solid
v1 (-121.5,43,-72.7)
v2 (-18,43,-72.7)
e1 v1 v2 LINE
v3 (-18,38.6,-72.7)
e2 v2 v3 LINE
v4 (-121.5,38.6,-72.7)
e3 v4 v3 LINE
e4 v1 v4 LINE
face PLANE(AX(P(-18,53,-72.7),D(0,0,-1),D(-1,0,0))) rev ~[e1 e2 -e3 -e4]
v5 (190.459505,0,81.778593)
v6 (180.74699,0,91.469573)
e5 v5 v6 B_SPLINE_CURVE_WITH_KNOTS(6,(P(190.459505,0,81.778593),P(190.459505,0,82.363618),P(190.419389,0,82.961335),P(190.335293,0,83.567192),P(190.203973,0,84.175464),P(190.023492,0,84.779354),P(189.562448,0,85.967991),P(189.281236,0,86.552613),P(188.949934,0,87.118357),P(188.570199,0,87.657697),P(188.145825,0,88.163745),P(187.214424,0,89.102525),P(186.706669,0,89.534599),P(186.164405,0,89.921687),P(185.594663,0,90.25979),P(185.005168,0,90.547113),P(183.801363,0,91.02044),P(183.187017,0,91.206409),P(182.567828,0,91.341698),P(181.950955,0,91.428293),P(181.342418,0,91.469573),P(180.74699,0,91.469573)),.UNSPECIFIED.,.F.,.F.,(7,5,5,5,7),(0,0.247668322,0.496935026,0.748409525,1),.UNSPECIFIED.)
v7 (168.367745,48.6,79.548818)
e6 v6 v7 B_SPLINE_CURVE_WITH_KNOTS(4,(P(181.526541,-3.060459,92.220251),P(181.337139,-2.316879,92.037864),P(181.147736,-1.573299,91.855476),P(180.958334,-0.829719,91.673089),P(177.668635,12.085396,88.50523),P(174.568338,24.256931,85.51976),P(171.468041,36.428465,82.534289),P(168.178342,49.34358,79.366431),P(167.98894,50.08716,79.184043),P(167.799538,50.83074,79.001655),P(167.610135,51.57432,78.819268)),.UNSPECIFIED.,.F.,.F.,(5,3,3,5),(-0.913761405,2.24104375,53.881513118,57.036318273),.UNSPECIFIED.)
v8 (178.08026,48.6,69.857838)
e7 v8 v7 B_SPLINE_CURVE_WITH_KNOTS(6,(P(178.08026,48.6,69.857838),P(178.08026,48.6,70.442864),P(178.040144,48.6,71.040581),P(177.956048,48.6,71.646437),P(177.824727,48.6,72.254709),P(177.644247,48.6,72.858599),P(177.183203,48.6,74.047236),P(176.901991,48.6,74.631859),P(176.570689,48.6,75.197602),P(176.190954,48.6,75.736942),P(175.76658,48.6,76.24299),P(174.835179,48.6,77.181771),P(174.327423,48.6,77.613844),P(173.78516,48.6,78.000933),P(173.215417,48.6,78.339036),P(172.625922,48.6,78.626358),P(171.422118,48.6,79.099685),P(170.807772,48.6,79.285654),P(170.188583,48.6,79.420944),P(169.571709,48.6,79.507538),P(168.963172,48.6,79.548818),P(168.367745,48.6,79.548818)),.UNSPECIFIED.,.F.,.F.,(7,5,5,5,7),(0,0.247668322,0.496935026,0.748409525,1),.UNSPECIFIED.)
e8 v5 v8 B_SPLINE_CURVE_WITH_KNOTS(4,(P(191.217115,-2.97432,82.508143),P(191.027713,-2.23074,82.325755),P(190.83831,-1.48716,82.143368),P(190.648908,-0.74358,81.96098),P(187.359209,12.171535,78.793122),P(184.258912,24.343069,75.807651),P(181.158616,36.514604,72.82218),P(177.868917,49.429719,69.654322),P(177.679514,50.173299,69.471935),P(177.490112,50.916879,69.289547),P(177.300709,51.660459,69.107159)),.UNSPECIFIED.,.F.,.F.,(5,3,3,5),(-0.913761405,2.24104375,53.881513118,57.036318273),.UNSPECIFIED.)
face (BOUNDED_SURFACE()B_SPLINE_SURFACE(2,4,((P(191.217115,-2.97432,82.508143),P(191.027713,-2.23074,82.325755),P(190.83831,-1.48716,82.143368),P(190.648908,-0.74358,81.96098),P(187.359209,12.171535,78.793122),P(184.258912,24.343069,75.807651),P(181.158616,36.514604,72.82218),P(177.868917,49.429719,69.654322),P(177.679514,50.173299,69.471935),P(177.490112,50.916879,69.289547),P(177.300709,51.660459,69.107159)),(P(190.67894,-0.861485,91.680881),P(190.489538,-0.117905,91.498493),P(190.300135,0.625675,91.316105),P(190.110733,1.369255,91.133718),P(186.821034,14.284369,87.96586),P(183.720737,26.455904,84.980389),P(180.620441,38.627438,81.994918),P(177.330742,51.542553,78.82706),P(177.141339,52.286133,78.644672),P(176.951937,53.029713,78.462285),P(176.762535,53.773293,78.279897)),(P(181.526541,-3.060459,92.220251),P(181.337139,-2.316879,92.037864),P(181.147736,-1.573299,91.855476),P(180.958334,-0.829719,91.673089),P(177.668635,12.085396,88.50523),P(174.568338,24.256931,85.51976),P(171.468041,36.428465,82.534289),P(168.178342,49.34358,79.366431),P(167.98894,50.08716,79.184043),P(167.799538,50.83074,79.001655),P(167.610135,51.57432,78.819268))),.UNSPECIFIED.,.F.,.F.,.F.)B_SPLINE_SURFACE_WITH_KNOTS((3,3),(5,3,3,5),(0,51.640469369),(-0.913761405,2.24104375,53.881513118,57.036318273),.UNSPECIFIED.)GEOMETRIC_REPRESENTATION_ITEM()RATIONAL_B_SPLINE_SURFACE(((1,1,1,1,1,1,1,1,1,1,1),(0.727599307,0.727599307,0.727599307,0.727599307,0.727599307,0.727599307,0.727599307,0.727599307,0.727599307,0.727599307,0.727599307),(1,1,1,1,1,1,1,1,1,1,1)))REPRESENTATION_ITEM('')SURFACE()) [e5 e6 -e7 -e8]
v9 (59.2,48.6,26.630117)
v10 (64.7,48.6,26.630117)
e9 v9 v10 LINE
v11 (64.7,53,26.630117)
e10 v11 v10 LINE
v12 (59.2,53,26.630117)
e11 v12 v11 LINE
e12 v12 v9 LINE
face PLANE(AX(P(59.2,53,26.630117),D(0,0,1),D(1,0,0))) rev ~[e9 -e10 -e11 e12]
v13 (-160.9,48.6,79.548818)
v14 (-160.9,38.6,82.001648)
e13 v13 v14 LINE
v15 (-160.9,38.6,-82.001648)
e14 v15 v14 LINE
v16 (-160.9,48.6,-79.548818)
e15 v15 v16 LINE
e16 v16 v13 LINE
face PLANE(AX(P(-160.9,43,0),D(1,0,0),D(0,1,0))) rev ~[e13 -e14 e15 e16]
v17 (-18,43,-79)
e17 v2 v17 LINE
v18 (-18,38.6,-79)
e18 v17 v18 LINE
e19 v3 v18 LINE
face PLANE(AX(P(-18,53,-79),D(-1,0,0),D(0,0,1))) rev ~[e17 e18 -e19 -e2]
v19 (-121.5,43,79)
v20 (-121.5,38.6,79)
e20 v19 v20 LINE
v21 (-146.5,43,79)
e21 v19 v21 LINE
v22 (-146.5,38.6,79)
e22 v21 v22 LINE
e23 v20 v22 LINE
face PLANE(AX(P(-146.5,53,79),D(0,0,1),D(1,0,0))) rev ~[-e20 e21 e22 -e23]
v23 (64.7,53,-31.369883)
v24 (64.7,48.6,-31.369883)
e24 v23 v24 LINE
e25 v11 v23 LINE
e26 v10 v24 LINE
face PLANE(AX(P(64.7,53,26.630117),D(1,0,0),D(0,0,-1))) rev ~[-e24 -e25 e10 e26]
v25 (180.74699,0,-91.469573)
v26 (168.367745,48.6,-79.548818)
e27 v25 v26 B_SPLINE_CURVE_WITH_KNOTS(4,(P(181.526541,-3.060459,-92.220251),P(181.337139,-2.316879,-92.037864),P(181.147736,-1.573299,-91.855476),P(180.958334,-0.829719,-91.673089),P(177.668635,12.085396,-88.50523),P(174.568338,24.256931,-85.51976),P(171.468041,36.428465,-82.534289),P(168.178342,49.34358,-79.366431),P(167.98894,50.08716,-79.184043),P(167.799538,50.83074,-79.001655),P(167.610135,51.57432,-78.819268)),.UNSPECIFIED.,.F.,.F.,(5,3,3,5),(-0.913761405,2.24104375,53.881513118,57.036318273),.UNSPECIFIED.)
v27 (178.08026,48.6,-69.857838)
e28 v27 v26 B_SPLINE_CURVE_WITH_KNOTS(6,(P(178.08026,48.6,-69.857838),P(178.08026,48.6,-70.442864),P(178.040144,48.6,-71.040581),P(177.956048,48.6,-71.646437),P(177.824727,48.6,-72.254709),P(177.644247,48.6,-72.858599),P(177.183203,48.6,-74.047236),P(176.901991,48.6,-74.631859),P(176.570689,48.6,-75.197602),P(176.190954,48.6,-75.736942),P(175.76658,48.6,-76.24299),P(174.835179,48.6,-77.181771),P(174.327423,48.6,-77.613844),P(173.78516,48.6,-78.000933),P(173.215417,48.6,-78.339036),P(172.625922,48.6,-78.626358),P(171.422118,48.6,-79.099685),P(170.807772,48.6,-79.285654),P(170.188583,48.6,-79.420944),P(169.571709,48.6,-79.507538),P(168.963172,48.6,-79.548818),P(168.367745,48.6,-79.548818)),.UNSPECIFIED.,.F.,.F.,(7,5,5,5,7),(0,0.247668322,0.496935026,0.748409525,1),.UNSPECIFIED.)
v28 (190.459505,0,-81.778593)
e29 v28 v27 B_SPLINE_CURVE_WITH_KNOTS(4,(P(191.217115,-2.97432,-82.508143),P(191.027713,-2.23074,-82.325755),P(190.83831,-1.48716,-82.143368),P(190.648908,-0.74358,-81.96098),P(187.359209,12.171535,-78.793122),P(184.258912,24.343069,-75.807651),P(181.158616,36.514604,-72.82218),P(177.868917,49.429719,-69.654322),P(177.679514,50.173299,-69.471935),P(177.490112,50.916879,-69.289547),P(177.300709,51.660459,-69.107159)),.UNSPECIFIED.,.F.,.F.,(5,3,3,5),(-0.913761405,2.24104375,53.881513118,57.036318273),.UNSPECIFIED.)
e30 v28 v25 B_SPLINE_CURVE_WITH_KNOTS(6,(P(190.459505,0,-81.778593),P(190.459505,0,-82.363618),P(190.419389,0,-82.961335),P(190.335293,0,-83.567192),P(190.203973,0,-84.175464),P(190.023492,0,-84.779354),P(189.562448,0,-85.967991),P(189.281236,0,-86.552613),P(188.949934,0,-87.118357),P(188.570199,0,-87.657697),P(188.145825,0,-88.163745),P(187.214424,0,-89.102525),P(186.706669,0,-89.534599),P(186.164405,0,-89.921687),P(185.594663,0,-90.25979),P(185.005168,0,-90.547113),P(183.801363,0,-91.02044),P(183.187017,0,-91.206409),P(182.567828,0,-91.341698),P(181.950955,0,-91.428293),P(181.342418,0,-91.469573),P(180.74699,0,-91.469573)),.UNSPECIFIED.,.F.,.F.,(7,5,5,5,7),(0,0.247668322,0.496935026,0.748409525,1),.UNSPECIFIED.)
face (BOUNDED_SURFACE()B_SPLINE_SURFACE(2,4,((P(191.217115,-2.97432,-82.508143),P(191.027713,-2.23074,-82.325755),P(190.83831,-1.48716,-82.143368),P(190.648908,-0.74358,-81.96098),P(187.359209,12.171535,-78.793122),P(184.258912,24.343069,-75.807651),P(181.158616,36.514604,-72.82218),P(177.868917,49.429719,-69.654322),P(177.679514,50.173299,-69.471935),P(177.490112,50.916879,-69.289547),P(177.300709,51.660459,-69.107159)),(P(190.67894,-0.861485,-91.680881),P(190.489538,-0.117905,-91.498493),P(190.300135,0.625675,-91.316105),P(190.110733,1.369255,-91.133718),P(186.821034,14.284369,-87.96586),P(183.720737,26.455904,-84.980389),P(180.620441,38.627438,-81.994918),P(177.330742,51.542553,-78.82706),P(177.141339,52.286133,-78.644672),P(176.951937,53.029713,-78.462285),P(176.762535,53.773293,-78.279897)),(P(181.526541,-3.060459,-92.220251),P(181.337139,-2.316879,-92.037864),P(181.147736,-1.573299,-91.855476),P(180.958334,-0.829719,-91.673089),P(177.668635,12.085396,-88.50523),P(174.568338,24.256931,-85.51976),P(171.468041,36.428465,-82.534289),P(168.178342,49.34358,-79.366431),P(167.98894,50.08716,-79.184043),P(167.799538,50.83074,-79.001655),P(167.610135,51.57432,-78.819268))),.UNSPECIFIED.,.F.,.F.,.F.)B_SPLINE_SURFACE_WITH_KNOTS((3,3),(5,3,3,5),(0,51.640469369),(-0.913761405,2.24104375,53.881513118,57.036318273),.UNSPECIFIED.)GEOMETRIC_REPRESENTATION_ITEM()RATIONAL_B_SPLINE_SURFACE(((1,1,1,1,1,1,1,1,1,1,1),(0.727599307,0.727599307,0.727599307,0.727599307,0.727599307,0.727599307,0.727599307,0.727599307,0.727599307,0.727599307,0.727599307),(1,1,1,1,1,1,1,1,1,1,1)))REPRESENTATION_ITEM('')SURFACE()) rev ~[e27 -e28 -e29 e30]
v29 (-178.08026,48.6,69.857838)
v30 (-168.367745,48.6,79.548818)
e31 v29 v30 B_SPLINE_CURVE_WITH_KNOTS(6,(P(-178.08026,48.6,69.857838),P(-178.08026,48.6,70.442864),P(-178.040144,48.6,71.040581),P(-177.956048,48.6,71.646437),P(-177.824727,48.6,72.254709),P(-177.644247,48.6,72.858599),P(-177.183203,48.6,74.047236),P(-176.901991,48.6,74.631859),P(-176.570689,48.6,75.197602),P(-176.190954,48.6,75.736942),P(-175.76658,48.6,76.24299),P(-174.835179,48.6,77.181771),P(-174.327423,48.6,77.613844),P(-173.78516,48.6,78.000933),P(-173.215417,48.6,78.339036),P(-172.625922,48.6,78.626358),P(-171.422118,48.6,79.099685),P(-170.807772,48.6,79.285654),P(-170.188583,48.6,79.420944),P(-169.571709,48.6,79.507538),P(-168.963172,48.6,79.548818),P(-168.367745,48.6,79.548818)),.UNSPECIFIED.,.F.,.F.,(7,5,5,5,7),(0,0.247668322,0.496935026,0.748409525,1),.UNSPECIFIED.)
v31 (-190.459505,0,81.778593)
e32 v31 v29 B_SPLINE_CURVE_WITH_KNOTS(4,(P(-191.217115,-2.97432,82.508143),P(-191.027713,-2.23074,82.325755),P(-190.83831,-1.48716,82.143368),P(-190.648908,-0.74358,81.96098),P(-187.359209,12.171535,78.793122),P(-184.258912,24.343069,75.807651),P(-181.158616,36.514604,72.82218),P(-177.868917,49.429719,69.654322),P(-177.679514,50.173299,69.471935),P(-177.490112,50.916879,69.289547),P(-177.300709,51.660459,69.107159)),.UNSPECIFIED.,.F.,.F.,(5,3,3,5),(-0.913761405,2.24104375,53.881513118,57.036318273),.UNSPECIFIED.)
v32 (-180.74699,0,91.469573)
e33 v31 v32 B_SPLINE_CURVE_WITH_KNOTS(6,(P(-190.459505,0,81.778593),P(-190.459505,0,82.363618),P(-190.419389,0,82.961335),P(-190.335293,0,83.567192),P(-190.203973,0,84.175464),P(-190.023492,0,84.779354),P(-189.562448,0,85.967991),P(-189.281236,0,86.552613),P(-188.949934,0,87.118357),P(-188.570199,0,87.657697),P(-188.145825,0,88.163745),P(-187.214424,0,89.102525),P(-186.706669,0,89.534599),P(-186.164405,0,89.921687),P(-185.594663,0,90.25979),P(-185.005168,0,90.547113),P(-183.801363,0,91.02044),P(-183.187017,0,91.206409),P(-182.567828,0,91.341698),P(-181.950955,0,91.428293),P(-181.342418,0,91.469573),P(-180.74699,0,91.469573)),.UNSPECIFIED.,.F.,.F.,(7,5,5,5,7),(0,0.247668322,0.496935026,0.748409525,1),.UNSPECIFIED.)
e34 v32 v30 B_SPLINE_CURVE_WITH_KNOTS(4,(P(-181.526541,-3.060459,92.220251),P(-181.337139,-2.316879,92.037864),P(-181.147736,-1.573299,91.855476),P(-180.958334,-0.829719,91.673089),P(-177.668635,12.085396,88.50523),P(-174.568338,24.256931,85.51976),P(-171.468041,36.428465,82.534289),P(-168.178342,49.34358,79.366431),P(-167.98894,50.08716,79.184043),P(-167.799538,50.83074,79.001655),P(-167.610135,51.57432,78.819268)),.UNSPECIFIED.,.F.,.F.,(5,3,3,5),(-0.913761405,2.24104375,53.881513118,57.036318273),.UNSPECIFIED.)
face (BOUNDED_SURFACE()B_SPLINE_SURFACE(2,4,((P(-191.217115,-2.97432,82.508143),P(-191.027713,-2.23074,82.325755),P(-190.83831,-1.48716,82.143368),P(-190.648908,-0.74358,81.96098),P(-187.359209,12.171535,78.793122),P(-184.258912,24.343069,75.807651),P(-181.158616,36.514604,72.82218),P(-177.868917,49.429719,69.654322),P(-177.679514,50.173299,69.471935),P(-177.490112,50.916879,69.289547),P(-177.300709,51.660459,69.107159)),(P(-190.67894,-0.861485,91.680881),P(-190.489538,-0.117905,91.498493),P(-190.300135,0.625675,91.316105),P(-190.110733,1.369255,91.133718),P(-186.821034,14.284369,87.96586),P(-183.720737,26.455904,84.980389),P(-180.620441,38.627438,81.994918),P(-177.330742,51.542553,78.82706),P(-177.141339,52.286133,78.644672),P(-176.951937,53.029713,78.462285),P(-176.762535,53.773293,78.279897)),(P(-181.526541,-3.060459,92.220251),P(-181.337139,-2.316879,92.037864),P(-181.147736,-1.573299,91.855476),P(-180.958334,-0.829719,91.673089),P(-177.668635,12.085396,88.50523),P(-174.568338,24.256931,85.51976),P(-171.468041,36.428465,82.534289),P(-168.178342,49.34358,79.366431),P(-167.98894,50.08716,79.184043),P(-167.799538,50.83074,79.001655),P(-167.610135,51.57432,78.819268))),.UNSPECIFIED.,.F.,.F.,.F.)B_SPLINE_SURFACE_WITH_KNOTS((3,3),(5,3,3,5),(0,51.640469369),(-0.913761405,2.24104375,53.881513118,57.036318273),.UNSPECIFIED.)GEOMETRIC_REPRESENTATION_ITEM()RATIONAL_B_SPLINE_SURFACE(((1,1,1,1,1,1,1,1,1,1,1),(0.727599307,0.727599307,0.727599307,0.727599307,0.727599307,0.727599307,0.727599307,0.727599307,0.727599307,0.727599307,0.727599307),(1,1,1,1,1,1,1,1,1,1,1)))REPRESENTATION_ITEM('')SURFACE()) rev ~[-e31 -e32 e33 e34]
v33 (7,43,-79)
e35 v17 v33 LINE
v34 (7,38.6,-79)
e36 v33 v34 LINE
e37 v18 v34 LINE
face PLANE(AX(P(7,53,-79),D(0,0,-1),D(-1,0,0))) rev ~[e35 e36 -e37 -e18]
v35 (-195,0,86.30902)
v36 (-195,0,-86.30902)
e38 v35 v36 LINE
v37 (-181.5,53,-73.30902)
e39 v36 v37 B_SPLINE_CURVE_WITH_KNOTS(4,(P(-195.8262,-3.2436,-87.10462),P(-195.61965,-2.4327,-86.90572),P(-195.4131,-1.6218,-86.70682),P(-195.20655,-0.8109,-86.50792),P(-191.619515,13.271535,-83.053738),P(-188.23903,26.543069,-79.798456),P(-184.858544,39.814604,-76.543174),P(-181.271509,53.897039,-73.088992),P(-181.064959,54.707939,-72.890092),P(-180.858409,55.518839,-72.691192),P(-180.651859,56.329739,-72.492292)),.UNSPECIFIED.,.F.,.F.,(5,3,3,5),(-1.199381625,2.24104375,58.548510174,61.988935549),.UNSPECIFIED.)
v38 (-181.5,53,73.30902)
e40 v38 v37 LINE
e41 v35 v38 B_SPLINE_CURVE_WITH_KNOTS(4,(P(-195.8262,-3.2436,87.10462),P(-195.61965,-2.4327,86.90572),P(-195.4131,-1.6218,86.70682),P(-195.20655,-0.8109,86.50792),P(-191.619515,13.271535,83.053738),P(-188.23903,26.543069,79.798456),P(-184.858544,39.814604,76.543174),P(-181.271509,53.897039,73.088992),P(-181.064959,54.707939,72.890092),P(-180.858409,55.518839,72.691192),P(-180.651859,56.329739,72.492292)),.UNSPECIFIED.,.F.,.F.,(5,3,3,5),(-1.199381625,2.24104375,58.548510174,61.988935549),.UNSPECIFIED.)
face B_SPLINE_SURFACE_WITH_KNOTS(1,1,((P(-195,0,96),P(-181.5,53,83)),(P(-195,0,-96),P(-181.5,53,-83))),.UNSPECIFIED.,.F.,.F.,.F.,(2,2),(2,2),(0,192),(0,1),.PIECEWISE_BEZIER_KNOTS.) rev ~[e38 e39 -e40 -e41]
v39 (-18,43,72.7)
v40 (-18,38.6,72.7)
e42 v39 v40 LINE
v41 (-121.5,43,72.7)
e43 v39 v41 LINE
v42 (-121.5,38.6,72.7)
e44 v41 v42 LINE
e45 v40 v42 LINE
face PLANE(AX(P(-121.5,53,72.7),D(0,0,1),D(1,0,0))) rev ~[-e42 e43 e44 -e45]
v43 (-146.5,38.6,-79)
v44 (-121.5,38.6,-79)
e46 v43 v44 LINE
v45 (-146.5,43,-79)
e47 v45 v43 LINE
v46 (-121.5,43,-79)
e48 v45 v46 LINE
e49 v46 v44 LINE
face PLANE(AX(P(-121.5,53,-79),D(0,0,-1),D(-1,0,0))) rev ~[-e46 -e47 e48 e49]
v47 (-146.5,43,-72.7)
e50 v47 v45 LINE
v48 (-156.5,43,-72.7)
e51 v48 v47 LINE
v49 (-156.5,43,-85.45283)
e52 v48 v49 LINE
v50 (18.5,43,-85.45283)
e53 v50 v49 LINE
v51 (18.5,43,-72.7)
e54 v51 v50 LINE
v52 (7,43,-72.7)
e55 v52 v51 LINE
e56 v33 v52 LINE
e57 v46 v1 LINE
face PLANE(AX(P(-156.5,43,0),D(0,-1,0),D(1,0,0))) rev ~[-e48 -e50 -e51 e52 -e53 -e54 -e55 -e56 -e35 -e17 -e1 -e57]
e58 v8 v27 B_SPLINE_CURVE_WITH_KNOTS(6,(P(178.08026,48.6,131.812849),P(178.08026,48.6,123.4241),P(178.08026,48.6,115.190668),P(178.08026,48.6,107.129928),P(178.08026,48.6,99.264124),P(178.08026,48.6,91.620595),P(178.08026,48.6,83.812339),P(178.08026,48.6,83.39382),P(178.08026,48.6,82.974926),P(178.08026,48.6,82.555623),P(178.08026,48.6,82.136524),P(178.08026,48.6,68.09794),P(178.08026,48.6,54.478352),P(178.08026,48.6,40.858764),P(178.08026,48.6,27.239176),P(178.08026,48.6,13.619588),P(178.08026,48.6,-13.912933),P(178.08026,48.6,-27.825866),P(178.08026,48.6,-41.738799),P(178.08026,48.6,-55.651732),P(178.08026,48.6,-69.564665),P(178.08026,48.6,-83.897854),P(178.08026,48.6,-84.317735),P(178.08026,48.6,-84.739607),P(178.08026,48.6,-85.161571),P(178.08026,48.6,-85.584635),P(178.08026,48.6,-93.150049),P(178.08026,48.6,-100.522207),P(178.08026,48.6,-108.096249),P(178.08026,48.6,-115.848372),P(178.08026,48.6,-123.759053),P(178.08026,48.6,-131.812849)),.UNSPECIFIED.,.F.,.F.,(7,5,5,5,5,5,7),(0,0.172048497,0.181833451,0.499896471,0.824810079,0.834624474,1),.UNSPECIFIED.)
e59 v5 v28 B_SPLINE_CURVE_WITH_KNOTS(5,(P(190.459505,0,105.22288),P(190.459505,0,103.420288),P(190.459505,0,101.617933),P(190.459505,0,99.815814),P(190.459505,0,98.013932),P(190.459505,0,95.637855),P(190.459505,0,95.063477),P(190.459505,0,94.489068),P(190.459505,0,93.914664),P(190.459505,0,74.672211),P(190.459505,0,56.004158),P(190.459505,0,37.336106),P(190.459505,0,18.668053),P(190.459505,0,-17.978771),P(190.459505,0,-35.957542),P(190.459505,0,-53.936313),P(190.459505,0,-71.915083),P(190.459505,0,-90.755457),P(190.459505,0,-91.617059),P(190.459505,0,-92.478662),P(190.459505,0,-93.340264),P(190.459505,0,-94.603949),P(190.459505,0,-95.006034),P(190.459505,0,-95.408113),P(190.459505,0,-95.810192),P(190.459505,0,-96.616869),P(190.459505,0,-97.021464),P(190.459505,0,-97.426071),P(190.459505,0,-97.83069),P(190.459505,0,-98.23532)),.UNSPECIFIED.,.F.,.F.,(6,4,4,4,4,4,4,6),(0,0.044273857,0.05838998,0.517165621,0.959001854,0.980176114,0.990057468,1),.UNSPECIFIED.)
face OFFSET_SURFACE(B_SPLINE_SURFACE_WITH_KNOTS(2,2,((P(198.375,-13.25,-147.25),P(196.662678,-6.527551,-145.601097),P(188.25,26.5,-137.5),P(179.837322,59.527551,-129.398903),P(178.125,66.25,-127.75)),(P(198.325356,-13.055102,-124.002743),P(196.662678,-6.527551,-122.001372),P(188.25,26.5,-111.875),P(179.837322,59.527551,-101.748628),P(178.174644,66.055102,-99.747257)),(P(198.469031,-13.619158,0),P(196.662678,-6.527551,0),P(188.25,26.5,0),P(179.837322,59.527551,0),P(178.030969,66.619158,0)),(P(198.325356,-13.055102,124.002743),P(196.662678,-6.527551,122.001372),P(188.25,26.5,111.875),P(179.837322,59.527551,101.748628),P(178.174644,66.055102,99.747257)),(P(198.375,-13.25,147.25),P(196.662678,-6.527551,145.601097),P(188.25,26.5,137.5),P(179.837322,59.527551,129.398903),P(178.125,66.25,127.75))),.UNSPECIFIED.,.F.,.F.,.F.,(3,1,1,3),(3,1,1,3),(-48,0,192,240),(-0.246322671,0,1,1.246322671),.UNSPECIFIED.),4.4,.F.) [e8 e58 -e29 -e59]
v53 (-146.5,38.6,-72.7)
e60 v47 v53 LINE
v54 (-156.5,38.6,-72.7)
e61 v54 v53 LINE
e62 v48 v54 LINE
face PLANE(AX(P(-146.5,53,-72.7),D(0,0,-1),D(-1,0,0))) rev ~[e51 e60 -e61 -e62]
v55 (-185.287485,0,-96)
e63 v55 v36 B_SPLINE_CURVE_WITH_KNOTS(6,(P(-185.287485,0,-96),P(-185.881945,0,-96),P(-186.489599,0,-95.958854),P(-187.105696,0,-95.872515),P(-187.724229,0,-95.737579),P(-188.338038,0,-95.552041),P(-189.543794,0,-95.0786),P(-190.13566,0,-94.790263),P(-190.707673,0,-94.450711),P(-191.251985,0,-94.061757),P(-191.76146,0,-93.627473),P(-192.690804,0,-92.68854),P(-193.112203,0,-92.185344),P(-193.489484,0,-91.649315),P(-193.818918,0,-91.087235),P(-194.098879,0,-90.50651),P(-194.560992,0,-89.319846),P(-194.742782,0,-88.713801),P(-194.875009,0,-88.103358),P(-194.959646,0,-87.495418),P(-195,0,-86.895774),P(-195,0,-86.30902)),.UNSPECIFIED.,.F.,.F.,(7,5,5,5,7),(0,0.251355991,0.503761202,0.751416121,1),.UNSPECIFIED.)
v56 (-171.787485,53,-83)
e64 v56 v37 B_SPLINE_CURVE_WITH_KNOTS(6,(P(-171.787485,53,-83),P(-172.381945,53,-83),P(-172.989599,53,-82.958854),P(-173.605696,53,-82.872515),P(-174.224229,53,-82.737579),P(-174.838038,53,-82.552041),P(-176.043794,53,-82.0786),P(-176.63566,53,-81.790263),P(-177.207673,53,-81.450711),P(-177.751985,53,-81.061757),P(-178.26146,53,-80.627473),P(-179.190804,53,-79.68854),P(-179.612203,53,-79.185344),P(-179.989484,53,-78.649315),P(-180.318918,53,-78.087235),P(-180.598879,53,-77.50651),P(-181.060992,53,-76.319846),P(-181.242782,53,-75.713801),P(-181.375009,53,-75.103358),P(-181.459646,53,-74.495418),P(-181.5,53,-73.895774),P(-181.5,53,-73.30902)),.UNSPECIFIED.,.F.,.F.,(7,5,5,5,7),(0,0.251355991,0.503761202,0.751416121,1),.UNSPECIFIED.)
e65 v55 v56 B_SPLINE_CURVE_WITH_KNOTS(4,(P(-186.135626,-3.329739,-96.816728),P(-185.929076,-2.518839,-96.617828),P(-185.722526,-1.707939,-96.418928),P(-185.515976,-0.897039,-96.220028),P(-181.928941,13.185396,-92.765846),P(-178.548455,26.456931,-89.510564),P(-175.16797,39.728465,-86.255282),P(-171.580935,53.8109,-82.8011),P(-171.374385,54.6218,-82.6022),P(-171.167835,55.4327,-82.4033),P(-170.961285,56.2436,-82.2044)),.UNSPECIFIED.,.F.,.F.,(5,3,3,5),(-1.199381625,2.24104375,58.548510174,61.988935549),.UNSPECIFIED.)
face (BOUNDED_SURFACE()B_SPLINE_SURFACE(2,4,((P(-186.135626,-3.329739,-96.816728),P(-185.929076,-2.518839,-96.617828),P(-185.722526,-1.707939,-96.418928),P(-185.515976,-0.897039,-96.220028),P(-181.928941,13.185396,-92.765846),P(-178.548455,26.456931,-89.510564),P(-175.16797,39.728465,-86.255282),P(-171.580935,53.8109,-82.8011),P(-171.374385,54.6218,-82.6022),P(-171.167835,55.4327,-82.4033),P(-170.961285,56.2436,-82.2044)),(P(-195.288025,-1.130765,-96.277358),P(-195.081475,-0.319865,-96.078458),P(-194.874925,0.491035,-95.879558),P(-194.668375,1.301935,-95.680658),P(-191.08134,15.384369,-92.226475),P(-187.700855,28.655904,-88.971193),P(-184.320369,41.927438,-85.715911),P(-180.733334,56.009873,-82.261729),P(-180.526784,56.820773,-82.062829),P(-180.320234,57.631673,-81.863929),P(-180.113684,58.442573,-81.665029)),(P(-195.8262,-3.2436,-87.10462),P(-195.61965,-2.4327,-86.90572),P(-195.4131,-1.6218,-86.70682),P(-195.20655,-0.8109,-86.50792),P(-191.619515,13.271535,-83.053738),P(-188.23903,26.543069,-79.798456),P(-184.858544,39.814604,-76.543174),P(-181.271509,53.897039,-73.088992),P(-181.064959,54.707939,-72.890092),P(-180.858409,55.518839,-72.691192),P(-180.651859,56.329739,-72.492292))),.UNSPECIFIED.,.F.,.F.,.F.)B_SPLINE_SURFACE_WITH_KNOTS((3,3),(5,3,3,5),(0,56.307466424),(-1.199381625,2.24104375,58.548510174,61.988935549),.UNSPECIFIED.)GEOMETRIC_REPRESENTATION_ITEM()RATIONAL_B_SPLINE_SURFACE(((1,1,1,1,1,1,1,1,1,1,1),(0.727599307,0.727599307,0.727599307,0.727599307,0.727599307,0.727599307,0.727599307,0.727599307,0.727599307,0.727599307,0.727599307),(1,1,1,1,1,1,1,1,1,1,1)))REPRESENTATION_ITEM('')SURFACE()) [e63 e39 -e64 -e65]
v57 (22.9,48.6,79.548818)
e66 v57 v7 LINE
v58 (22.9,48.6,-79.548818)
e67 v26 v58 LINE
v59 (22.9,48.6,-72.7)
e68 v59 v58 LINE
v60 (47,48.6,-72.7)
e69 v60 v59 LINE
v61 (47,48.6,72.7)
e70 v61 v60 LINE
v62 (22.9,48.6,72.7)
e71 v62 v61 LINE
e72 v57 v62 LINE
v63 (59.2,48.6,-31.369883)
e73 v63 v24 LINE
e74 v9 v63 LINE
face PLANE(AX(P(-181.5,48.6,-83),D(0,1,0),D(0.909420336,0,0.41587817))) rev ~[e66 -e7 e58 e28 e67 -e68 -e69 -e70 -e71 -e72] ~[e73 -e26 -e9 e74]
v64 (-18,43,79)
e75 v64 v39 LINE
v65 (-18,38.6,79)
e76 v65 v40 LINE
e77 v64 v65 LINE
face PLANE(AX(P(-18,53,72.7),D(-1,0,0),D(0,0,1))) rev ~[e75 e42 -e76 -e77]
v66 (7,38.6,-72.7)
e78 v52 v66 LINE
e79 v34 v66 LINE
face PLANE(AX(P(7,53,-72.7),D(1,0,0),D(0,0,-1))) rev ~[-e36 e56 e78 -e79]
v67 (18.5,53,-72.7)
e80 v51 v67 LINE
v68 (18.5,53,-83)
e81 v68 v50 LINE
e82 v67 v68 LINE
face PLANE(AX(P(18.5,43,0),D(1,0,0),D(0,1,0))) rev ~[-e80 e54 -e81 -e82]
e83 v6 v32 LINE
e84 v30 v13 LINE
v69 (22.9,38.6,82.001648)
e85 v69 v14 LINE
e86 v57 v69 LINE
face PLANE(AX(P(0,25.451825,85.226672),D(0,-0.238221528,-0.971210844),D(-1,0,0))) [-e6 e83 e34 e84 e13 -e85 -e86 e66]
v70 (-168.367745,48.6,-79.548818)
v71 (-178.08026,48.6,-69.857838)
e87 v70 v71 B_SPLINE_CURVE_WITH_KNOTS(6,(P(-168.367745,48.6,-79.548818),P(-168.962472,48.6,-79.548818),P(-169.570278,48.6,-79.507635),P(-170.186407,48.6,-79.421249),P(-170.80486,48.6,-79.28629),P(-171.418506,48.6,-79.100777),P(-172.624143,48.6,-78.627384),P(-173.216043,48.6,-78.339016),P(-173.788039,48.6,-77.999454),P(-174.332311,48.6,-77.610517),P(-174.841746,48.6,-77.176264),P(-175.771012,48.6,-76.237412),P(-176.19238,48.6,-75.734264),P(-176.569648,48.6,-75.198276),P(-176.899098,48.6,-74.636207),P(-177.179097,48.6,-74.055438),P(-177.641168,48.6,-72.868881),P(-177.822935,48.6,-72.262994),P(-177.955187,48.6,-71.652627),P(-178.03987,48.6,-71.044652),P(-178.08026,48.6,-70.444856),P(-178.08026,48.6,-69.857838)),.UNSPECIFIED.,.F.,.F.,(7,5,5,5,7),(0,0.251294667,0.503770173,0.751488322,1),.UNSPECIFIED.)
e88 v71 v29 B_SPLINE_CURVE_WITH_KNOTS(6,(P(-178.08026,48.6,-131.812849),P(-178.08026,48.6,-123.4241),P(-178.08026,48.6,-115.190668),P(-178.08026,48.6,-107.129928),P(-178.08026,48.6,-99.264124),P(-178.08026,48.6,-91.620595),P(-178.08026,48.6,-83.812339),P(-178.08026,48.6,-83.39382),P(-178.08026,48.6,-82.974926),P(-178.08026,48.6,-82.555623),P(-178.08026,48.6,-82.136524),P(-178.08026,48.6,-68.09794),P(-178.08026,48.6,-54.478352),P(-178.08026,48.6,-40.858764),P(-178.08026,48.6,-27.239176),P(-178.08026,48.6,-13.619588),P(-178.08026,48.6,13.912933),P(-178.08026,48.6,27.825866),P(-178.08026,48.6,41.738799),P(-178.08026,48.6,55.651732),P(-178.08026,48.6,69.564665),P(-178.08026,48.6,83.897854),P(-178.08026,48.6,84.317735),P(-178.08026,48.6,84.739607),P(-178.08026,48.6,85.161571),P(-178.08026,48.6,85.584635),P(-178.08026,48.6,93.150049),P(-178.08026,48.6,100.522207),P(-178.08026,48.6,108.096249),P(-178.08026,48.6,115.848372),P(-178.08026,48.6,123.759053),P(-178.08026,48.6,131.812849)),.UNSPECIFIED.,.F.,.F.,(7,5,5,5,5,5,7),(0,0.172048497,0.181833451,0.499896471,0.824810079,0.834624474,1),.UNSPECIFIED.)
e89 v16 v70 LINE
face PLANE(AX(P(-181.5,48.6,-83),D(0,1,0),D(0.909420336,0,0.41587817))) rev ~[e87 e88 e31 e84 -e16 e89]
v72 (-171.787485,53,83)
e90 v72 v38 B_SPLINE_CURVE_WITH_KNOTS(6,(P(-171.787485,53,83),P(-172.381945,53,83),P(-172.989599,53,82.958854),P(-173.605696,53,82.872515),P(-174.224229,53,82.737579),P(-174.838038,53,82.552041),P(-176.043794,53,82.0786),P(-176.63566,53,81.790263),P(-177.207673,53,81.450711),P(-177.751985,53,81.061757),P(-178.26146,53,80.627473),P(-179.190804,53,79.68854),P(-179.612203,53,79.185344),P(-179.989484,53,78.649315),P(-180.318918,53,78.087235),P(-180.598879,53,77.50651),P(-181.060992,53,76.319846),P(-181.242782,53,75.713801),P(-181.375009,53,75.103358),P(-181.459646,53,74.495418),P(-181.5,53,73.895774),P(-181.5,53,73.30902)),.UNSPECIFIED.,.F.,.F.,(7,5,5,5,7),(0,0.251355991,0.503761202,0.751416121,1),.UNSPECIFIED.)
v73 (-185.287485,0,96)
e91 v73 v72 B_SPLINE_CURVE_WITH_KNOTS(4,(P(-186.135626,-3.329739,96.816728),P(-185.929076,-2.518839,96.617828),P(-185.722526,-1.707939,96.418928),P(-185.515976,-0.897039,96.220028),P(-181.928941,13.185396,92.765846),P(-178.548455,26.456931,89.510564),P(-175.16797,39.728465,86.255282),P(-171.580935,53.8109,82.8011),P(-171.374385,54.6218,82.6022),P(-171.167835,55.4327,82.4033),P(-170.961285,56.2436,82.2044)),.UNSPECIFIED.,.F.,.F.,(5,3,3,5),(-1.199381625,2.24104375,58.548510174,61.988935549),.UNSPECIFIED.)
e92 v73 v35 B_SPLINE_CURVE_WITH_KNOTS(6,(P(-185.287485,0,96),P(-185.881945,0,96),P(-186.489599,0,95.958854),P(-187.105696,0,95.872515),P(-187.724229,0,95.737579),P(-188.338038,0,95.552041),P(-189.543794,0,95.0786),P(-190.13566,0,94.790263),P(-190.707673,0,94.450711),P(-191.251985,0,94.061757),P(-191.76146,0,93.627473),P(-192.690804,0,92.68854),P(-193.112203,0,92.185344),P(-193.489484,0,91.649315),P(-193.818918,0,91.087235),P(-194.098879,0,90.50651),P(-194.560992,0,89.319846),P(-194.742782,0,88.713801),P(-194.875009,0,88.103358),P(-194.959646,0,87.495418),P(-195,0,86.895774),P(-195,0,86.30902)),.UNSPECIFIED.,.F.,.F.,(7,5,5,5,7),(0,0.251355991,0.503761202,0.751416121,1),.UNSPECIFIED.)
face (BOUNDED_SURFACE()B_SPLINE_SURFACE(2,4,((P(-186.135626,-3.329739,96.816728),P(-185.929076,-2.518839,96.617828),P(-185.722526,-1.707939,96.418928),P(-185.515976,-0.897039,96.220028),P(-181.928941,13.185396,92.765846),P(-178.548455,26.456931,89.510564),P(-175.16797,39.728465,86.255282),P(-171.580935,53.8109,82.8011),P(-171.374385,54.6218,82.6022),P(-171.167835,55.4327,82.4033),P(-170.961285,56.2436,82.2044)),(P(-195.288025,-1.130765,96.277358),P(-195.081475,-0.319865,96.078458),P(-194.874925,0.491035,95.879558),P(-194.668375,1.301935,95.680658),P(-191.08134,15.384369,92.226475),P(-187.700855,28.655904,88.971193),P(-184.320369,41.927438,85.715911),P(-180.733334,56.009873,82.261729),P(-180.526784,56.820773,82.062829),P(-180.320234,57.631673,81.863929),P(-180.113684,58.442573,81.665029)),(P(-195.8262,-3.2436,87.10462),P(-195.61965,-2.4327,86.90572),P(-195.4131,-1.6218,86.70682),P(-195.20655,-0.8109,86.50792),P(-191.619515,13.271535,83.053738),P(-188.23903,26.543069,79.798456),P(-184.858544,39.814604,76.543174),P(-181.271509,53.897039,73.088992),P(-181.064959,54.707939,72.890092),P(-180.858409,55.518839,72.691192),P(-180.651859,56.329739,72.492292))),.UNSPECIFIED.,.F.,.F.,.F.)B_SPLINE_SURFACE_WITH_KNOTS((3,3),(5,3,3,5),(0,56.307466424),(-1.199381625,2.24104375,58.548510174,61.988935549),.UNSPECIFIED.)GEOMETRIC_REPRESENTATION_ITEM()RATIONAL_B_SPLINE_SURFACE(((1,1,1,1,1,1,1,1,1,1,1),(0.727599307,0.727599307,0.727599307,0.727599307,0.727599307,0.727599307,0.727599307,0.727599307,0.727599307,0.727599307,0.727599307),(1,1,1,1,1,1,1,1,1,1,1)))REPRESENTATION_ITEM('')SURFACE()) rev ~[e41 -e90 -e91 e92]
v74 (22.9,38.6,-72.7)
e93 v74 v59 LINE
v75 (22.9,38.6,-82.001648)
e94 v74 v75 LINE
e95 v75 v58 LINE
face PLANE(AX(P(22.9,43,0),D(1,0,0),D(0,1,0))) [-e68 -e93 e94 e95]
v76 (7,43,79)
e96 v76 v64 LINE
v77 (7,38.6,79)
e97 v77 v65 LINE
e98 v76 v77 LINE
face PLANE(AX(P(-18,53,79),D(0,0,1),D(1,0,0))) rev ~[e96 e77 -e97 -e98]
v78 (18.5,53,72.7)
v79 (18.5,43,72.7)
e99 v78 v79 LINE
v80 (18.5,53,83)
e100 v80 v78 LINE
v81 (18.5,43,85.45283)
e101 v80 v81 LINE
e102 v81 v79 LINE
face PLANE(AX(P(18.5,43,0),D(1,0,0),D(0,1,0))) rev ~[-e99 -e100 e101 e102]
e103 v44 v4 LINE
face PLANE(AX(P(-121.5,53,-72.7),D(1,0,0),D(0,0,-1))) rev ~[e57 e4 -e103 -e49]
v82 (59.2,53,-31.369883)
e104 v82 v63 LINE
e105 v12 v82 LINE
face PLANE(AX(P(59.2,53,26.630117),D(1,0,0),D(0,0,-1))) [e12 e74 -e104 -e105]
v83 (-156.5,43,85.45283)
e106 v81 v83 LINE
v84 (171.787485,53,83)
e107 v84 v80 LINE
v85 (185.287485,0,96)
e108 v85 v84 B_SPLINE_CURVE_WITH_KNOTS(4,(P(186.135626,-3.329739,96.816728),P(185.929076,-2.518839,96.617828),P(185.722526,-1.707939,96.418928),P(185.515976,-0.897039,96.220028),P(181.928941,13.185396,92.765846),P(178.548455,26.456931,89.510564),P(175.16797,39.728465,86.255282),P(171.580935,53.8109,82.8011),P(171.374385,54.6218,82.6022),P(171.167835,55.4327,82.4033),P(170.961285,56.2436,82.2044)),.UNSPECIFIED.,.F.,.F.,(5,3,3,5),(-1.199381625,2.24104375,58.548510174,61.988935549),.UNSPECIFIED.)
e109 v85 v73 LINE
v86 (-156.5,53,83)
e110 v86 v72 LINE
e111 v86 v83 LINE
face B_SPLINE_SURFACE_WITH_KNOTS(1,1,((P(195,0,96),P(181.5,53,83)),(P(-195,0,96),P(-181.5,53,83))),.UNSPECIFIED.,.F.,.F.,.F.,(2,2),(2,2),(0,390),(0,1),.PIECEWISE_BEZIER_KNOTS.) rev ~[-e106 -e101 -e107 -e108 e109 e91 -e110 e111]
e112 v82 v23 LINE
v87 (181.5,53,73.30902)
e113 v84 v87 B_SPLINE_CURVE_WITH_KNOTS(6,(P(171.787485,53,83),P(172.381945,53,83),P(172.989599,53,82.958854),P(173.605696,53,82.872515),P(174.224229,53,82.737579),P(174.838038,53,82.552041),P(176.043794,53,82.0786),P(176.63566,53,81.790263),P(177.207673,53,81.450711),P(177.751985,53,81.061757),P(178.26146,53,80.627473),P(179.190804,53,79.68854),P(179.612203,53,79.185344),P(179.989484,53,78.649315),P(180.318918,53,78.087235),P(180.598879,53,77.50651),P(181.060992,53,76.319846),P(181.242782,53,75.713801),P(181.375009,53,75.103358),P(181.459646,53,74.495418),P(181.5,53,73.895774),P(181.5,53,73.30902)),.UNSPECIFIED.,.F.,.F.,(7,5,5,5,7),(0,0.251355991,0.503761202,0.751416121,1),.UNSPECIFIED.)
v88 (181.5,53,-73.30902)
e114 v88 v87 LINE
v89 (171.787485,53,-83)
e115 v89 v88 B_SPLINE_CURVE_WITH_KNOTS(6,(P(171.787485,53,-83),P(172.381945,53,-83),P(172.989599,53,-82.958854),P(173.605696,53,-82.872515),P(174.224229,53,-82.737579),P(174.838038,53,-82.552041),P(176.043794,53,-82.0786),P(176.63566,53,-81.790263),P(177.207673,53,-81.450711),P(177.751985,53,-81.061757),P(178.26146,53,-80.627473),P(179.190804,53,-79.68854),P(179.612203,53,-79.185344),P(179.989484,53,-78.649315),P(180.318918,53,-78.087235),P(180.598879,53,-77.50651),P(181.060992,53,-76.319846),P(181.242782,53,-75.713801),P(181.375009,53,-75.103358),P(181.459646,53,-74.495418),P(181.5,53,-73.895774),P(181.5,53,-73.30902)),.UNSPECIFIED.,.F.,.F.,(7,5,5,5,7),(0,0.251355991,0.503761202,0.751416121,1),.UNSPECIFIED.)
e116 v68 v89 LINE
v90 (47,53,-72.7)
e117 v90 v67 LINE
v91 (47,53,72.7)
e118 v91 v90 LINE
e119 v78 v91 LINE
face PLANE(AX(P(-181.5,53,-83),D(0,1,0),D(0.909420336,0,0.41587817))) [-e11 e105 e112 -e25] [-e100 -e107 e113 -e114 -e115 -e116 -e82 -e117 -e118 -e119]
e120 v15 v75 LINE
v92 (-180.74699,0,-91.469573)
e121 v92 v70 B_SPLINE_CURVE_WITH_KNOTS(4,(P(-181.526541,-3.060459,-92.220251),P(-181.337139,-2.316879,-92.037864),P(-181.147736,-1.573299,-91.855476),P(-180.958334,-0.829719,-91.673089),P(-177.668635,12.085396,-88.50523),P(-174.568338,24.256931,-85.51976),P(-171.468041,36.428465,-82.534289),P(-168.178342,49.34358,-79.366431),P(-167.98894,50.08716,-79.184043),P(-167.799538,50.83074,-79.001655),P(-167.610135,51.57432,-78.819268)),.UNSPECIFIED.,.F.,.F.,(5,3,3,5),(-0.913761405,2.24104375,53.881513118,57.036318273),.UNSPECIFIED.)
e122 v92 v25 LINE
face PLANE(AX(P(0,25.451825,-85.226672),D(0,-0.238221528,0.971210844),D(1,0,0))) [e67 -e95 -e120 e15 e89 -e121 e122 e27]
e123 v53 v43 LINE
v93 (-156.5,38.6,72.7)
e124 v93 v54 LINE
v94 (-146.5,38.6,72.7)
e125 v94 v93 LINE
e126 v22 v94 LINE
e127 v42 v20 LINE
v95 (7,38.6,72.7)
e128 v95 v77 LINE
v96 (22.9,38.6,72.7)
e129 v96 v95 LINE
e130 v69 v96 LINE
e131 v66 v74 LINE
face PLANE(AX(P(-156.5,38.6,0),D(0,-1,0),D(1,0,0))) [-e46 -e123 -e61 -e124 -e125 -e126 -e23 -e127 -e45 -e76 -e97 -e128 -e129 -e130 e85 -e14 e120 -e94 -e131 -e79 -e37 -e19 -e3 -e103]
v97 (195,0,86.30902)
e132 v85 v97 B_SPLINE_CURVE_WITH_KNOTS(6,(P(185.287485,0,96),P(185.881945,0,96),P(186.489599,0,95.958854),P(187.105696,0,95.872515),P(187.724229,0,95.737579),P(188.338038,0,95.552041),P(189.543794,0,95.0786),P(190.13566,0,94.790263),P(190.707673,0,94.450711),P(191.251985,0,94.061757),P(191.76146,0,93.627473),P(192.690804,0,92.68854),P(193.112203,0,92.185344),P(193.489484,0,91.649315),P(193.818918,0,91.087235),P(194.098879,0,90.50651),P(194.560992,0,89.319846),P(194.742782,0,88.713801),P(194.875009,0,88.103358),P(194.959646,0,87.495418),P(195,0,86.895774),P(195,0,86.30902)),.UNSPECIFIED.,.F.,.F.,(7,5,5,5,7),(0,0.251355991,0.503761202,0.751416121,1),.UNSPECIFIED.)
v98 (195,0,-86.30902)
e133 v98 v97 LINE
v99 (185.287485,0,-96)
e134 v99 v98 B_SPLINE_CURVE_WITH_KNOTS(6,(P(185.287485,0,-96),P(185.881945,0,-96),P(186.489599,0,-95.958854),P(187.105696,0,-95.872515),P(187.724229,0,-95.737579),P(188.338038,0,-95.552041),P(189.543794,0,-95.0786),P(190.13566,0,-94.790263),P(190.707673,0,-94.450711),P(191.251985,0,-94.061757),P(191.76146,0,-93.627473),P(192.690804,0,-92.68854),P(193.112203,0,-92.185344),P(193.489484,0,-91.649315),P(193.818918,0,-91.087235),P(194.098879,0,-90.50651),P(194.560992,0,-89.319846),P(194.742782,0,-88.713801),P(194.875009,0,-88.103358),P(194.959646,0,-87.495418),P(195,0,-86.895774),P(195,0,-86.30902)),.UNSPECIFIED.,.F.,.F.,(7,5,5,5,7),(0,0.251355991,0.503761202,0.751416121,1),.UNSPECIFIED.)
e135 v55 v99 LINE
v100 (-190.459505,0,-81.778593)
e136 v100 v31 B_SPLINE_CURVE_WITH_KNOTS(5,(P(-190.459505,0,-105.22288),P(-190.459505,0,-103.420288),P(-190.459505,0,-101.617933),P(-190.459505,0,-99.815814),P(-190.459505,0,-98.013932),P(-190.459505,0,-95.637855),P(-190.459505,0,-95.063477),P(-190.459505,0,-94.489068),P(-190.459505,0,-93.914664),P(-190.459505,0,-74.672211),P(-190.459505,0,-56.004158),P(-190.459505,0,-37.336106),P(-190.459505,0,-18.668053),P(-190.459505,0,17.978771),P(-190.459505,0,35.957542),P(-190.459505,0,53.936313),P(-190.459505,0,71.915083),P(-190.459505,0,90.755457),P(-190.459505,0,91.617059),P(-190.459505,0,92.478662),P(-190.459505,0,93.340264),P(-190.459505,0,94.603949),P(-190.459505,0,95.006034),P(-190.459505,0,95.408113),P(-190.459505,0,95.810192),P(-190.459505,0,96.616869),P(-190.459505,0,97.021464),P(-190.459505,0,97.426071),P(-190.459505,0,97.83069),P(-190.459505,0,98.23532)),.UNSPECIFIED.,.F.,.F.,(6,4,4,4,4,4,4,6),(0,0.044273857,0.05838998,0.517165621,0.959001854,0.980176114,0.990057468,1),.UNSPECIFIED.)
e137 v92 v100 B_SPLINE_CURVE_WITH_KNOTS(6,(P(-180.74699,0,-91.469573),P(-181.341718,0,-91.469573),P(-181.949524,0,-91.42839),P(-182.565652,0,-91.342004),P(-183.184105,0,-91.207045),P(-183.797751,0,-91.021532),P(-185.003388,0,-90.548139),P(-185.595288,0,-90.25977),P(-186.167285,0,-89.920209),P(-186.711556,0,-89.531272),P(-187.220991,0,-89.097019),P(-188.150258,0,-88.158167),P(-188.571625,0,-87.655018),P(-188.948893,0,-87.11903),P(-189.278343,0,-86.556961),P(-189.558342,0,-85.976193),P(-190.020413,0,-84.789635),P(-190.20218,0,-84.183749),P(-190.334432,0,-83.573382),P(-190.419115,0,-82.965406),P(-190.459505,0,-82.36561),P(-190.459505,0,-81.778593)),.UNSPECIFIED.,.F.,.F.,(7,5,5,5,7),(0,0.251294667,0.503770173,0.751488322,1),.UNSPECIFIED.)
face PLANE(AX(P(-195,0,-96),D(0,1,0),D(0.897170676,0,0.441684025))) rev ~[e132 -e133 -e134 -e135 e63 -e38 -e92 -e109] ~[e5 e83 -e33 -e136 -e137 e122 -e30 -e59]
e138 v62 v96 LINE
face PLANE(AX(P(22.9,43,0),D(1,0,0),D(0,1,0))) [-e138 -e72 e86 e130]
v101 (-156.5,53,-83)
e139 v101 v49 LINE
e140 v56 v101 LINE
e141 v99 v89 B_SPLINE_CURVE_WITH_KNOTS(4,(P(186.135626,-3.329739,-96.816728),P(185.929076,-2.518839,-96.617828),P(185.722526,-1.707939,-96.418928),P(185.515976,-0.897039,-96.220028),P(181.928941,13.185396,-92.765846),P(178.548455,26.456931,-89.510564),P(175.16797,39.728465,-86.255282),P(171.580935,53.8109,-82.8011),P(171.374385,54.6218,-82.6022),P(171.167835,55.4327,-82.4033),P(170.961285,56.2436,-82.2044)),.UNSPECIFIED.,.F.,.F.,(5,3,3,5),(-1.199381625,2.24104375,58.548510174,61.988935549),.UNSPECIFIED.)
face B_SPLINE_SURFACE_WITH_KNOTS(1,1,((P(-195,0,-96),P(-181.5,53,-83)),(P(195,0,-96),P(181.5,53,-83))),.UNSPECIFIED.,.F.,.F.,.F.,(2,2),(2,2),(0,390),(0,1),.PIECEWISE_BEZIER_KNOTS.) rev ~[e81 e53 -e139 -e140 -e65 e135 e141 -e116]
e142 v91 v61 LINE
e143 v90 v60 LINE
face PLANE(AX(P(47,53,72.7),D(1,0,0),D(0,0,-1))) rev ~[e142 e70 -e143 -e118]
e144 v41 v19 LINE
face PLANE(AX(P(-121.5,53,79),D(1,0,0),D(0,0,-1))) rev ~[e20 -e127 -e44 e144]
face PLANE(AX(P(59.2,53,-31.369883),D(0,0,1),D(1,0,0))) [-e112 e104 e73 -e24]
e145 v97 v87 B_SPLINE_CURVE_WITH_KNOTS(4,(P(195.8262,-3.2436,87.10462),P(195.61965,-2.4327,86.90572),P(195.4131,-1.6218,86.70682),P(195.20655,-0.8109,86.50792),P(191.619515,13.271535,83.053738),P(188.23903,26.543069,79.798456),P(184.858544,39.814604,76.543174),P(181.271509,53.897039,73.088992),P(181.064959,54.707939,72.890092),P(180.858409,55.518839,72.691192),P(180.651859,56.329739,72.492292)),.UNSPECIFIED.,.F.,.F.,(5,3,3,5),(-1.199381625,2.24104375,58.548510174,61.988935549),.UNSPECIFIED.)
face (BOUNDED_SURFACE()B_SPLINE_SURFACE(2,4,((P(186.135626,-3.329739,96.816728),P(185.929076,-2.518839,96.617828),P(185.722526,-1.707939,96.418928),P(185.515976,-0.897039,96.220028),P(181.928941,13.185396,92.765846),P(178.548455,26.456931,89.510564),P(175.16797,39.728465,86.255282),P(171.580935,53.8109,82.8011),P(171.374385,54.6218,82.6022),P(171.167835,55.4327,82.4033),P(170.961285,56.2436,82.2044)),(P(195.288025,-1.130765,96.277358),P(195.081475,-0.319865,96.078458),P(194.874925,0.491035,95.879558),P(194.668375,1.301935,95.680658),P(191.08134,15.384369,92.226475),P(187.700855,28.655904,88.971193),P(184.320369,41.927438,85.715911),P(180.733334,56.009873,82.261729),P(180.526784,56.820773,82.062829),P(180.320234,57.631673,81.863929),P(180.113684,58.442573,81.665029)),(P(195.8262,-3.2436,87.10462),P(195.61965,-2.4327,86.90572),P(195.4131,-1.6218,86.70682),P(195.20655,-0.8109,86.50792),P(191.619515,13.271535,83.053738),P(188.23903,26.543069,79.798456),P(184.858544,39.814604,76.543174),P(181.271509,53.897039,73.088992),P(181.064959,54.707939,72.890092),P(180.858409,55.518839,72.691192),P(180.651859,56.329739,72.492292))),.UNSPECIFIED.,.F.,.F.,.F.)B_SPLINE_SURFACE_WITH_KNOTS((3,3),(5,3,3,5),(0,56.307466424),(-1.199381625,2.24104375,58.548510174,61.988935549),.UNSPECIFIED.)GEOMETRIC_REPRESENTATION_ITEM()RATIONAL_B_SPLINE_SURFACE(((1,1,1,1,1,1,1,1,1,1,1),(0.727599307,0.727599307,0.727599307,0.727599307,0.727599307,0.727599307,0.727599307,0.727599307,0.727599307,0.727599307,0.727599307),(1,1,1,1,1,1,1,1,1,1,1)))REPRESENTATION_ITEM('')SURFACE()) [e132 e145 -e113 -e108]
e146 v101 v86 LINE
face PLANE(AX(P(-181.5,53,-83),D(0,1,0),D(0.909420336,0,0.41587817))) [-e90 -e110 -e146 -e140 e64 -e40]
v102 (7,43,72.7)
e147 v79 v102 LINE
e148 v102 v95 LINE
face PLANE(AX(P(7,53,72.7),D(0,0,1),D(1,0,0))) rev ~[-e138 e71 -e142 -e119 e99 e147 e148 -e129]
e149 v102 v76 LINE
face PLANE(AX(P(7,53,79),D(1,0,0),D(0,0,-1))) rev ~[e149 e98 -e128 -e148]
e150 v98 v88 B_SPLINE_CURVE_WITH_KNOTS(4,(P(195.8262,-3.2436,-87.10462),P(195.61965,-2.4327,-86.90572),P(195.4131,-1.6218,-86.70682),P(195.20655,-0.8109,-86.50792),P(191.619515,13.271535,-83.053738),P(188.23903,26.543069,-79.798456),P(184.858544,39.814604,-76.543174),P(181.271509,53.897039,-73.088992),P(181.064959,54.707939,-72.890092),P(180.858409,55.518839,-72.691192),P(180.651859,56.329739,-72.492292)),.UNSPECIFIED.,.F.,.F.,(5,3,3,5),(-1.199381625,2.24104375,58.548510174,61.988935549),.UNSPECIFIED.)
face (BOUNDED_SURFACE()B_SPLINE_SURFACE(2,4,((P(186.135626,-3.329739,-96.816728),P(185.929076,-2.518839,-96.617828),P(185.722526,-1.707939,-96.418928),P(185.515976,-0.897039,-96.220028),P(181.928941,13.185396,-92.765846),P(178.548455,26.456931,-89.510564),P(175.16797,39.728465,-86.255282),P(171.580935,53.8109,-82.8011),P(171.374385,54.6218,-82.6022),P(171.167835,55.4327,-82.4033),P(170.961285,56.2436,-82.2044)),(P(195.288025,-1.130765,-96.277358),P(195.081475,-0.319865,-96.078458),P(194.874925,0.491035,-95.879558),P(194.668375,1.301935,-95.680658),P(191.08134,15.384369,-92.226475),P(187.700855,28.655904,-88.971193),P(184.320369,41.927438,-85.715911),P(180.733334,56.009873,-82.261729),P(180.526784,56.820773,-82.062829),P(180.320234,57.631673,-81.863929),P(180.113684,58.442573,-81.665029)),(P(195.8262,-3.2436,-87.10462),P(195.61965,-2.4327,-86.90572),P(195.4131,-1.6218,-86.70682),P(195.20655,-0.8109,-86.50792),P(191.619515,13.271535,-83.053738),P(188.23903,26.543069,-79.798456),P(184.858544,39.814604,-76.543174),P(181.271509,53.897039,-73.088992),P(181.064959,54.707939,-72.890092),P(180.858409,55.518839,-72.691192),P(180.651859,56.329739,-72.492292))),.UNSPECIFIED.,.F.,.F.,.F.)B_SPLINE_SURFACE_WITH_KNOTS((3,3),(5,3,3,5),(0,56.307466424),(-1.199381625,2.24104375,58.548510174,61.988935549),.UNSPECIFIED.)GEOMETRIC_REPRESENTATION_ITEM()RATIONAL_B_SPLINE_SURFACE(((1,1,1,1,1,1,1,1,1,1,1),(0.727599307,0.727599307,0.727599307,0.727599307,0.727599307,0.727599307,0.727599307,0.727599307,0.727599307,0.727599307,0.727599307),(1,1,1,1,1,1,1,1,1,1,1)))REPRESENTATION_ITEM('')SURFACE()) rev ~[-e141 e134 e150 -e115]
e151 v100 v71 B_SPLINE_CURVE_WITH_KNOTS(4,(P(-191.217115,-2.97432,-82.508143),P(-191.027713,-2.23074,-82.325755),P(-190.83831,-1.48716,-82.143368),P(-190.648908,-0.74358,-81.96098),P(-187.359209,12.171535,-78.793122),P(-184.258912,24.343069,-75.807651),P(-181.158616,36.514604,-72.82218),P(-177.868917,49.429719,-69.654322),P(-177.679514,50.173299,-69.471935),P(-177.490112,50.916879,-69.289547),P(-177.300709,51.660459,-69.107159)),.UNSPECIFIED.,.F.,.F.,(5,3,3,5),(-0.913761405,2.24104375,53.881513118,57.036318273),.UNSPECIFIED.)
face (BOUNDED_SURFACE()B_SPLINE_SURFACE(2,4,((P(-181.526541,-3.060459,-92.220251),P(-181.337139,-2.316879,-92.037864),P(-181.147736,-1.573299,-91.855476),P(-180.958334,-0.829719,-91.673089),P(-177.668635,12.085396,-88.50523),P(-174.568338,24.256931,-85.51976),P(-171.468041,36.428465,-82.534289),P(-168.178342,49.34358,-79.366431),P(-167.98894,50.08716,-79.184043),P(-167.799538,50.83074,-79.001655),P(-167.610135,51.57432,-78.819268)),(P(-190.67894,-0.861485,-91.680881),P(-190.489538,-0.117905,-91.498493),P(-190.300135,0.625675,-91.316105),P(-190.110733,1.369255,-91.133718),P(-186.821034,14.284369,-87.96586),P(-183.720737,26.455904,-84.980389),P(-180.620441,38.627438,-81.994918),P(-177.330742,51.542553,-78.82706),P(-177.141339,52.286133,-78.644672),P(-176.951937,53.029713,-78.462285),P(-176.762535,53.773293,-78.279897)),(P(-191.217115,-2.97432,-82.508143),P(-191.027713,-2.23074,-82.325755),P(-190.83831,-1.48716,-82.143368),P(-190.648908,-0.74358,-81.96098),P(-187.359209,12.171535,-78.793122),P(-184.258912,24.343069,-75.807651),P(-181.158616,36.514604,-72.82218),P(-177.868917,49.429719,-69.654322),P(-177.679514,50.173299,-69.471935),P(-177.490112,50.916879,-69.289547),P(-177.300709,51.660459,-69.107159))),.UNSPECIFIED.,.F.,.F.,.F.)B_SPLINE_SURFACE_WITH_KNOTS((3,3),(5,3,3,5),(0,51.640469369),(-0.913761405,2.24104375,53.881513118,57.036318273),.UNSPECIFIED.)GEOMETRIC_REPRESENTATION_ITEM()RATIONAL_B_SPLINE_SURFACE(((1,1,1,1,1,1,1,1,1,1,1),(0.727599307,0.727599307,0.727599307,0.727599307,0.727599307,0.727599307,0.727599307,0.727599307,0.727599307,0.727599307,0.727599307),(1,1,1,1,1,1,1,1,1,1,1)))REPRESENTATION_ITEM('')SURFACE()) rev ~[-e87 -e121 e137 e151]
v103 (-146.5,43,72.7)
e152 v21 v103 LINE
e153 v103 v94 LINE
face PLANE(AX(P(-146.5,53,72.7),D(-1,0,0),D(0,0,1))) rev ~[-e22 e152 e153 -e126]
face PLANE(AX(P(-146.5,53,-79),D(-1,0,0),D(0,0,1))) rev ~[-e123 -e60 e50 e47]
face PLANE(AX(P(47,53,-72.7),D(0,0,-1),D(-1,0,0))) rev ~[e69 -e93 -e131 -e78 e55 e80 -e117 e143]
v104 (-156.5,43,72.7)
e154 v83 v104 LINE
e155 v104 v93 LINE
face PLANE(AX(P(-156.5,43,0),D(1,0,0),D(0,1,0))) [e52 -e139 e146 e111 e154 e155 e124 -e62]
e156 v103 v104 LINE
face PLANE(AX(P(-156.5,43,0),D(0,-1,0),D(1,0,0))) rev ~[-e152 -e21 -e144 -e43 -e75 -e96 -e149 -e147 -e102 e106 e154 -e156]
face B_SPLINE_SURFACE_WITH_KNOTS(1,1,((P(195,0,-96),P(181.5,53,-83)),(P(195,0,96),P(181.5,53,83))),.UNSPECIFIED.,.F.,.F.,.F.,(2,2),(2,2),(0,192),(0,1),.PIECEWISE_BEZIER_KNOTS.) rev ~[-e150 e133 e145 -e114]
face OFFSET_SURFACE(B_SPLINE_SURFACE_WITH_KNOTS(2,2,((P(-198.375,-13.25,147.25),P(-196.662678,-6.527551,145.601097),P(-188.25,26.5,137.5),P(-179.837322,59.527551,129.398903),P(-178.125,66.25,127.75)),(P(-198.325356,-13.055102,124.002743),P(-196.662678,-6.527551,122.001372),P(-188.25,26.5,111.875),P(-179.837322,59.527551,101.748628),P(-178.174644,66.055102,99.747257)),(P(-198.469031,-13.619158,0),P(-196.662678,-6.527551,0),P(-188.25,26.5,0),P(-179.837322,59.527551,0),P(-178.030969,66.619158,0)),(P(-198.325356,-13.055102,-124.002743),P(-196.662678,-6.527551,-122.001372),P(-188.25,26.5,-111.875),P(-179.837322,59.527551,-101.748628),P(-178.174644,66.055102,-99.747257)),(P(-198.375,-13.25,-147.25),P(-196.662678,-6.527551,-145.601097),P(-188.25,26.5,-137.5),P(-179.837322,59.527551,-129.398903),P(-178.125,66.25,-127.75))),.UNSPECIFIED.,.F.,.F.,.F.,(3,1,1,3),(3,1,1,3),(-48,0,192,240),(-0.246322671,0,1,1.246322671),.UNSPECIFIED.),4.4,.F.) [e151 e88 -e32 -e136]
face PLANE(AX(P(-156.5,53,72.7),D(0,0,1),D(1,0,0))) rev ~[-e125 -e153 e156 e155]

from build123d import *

# Parameters (mm, degrees)
CUT_EXTRUDE1_REACH             = 265.708
SKETCH4_W                      = 175
SKETCH4_H                      = 10
CUT_EXTRUDE1_DIRECTION_2_REACH = 265.708
SHELL1_T                       = -4.4
CUT_EXTRUDE2_DEPTH             = 224.718573366
FILLET1_R                      = 10
SKETCH7_W                      = 5.5
SKETCH7_H                      = 58
CUT_EXTRUDE4_DEPTH             = 10


with BuildPart() as part:
    # Sketch2 → Loft1 section 0
    with BuildSketch(Plane(origin=(0, 0, 0), x_dir=(1, 0, 0), z_dir=(0, 1, 0))):
        with BuildLine():
            Line((-195, 96), (195, 96))
            Line((195, 96), (195, -96))
            Line((195, -96), (-195, -96))
            Line((-195, -96), (-195, 96))
        make_face()
    # Sketch3 → Loft1 section 1
    with BuildSketch(Plane(origin=(0, 53, 0), x_dir=(1, 0, 0), z_dir=(0, 1, 0))):
        with BuildLine():
            Line((-181.5, 83), (181.5, 83))
            Line((181.5, 83), (181.5, -83))
            Line((181.5, -83), (-181.5, -83))
            Line((-181.5, -83), (-181.5, 83))
        make_face()
    loft()

    # Cut-Extrude1: up to this plane
    cut_extrude1_end = Plane(origin=(0, 22.210879785, -90.552048355), z_dir=(0, -0.23822152779764819, 0.9712108440981054))
    # Sketch4 → Cut-Extrude1 (cut, up to the surface)
    with BuildSketch(Plane.XY, mode=Mode.PRIVATE) as cut_extrude1_sk1:
        with Locations((-69, 48)):
            Rectangle(SKETCH4_W, SKETCH4_H)
    cut_extrude1_tool1 = split(extrude(cut_extrude1_sk1.sketch, amount=-CUT_EXTRUDE1_REACH, mode=Mode.PRIVATE), bisect_by=cut_extrude1_end, keep=Keep.BOTH, mode=Mode.PRIVATE)
    add(cut_extrude1_tool1.solids().sort_by_distance((-69, 48, 0))[0], mode=Mode.SUBTRACT)

    # Cut-Extrude1 direction 2: up to this plane
    cut_extrude1_direction_2_end = Plane(origin=(0, 22.210879785, 90.552048355), z_dir=(0, -0.23822152779764863, -0.9712108440981052))
    # Sketch4 → Cut-Extrude1 direction 2 (cut, up to the surface)
    with BuildSketch(Plane.XY, mode=Mode.PRIVATE) as cut_extrude1_direction_2_sk1:
        with Locations((-69, 48)):
            Rectangle(SKETCH4_W, SKETCH4_H)
    cut_extrude1_direction_2_tool1 = split(extrude(cut_extrude1_direction_2_sk1.sketch, amount=CUT_EXTRUDE1_DIRECTION_2_REACH, mode=Mode.PRIVATE), bisect_by=cut_extrude1_direction_2_end, keep=Keep.BOTH, mode=Mode.PRIVATE)
    add(cut_extrude1_direction_2_tool1.solids().sort_by_distance((-69, 48, 0))[0], mode=Mode.SUBTRACT)

    # Shell1
    shell1_openings = [part.faces().sort_by_distance(p)[0] for p in [
        (0, 0, 0),
    ]]
    offset(amount=SHELL1_T, openings=shell1_openings, kind=Kind.INTERSECTION)

    # Sketch5 → Cut-Extrude2 (cut, through all)
    with BuildSketch(Plane(origin=(0, 53, 0), x_dir=(1, 0, 0), z_dir=(0, 1, 0))):
        Polygon((47, -72.7), (47, 72.7), (7, 72.7), (7, 79), (-18, 79), (-18, 72.7), (-121.5, 72.7), (-121.5, 79), (-146.5, 79), (-146.5, 72.7), (-156.5, 72.7), (-156.5, -72.7), (-146.5, -72.7), (-146.5, -79), (-121.5, -79), (-121.5, -72.7), (-18, -72.7), (-18, -79), (7, -79), (7, -72.7), align=None)
    extrude(amount=-CUT_EXTRUDE2_DEPTH, mode=Mode.SUBTRACT)

    # Fillet1
    fillet1_edges = [part.edges().sort_by_distance(p)[0] for p in [
        (-188.25, 26.5, 89.5),
        (-188.25, 26.5, -89.5),
        (188.25, 26.5, 89.5),
        (188.25, 26.5, -89.5),
        (-184.269882767, 24.3, -85.509195467),
        (-184.269882767, 24.3, 85.509195467),
        (184.269882767, 24.3, 85.509195467),
        (184.269882767, 24.3, -85.509195467),
    ]]
    fillet(fillet1_edges, radius=FILLET1_R)

    # Sketch7 → Cut-Extrude4 (cut)
    with BuildSketch(Plane(origin=(0, 53, 0), x_dir=(1, 0, 0), z_dir=(0, 1, 0))):
        with Locations((61.95, 2.369883227)):
            Rectangle(SKETCH7_W, SKETCH7_H)
    extrude(amount=-CUT_EXTRUDE4_DEPTH, mode=Mode.SUBTRACT)


solid = part.part
